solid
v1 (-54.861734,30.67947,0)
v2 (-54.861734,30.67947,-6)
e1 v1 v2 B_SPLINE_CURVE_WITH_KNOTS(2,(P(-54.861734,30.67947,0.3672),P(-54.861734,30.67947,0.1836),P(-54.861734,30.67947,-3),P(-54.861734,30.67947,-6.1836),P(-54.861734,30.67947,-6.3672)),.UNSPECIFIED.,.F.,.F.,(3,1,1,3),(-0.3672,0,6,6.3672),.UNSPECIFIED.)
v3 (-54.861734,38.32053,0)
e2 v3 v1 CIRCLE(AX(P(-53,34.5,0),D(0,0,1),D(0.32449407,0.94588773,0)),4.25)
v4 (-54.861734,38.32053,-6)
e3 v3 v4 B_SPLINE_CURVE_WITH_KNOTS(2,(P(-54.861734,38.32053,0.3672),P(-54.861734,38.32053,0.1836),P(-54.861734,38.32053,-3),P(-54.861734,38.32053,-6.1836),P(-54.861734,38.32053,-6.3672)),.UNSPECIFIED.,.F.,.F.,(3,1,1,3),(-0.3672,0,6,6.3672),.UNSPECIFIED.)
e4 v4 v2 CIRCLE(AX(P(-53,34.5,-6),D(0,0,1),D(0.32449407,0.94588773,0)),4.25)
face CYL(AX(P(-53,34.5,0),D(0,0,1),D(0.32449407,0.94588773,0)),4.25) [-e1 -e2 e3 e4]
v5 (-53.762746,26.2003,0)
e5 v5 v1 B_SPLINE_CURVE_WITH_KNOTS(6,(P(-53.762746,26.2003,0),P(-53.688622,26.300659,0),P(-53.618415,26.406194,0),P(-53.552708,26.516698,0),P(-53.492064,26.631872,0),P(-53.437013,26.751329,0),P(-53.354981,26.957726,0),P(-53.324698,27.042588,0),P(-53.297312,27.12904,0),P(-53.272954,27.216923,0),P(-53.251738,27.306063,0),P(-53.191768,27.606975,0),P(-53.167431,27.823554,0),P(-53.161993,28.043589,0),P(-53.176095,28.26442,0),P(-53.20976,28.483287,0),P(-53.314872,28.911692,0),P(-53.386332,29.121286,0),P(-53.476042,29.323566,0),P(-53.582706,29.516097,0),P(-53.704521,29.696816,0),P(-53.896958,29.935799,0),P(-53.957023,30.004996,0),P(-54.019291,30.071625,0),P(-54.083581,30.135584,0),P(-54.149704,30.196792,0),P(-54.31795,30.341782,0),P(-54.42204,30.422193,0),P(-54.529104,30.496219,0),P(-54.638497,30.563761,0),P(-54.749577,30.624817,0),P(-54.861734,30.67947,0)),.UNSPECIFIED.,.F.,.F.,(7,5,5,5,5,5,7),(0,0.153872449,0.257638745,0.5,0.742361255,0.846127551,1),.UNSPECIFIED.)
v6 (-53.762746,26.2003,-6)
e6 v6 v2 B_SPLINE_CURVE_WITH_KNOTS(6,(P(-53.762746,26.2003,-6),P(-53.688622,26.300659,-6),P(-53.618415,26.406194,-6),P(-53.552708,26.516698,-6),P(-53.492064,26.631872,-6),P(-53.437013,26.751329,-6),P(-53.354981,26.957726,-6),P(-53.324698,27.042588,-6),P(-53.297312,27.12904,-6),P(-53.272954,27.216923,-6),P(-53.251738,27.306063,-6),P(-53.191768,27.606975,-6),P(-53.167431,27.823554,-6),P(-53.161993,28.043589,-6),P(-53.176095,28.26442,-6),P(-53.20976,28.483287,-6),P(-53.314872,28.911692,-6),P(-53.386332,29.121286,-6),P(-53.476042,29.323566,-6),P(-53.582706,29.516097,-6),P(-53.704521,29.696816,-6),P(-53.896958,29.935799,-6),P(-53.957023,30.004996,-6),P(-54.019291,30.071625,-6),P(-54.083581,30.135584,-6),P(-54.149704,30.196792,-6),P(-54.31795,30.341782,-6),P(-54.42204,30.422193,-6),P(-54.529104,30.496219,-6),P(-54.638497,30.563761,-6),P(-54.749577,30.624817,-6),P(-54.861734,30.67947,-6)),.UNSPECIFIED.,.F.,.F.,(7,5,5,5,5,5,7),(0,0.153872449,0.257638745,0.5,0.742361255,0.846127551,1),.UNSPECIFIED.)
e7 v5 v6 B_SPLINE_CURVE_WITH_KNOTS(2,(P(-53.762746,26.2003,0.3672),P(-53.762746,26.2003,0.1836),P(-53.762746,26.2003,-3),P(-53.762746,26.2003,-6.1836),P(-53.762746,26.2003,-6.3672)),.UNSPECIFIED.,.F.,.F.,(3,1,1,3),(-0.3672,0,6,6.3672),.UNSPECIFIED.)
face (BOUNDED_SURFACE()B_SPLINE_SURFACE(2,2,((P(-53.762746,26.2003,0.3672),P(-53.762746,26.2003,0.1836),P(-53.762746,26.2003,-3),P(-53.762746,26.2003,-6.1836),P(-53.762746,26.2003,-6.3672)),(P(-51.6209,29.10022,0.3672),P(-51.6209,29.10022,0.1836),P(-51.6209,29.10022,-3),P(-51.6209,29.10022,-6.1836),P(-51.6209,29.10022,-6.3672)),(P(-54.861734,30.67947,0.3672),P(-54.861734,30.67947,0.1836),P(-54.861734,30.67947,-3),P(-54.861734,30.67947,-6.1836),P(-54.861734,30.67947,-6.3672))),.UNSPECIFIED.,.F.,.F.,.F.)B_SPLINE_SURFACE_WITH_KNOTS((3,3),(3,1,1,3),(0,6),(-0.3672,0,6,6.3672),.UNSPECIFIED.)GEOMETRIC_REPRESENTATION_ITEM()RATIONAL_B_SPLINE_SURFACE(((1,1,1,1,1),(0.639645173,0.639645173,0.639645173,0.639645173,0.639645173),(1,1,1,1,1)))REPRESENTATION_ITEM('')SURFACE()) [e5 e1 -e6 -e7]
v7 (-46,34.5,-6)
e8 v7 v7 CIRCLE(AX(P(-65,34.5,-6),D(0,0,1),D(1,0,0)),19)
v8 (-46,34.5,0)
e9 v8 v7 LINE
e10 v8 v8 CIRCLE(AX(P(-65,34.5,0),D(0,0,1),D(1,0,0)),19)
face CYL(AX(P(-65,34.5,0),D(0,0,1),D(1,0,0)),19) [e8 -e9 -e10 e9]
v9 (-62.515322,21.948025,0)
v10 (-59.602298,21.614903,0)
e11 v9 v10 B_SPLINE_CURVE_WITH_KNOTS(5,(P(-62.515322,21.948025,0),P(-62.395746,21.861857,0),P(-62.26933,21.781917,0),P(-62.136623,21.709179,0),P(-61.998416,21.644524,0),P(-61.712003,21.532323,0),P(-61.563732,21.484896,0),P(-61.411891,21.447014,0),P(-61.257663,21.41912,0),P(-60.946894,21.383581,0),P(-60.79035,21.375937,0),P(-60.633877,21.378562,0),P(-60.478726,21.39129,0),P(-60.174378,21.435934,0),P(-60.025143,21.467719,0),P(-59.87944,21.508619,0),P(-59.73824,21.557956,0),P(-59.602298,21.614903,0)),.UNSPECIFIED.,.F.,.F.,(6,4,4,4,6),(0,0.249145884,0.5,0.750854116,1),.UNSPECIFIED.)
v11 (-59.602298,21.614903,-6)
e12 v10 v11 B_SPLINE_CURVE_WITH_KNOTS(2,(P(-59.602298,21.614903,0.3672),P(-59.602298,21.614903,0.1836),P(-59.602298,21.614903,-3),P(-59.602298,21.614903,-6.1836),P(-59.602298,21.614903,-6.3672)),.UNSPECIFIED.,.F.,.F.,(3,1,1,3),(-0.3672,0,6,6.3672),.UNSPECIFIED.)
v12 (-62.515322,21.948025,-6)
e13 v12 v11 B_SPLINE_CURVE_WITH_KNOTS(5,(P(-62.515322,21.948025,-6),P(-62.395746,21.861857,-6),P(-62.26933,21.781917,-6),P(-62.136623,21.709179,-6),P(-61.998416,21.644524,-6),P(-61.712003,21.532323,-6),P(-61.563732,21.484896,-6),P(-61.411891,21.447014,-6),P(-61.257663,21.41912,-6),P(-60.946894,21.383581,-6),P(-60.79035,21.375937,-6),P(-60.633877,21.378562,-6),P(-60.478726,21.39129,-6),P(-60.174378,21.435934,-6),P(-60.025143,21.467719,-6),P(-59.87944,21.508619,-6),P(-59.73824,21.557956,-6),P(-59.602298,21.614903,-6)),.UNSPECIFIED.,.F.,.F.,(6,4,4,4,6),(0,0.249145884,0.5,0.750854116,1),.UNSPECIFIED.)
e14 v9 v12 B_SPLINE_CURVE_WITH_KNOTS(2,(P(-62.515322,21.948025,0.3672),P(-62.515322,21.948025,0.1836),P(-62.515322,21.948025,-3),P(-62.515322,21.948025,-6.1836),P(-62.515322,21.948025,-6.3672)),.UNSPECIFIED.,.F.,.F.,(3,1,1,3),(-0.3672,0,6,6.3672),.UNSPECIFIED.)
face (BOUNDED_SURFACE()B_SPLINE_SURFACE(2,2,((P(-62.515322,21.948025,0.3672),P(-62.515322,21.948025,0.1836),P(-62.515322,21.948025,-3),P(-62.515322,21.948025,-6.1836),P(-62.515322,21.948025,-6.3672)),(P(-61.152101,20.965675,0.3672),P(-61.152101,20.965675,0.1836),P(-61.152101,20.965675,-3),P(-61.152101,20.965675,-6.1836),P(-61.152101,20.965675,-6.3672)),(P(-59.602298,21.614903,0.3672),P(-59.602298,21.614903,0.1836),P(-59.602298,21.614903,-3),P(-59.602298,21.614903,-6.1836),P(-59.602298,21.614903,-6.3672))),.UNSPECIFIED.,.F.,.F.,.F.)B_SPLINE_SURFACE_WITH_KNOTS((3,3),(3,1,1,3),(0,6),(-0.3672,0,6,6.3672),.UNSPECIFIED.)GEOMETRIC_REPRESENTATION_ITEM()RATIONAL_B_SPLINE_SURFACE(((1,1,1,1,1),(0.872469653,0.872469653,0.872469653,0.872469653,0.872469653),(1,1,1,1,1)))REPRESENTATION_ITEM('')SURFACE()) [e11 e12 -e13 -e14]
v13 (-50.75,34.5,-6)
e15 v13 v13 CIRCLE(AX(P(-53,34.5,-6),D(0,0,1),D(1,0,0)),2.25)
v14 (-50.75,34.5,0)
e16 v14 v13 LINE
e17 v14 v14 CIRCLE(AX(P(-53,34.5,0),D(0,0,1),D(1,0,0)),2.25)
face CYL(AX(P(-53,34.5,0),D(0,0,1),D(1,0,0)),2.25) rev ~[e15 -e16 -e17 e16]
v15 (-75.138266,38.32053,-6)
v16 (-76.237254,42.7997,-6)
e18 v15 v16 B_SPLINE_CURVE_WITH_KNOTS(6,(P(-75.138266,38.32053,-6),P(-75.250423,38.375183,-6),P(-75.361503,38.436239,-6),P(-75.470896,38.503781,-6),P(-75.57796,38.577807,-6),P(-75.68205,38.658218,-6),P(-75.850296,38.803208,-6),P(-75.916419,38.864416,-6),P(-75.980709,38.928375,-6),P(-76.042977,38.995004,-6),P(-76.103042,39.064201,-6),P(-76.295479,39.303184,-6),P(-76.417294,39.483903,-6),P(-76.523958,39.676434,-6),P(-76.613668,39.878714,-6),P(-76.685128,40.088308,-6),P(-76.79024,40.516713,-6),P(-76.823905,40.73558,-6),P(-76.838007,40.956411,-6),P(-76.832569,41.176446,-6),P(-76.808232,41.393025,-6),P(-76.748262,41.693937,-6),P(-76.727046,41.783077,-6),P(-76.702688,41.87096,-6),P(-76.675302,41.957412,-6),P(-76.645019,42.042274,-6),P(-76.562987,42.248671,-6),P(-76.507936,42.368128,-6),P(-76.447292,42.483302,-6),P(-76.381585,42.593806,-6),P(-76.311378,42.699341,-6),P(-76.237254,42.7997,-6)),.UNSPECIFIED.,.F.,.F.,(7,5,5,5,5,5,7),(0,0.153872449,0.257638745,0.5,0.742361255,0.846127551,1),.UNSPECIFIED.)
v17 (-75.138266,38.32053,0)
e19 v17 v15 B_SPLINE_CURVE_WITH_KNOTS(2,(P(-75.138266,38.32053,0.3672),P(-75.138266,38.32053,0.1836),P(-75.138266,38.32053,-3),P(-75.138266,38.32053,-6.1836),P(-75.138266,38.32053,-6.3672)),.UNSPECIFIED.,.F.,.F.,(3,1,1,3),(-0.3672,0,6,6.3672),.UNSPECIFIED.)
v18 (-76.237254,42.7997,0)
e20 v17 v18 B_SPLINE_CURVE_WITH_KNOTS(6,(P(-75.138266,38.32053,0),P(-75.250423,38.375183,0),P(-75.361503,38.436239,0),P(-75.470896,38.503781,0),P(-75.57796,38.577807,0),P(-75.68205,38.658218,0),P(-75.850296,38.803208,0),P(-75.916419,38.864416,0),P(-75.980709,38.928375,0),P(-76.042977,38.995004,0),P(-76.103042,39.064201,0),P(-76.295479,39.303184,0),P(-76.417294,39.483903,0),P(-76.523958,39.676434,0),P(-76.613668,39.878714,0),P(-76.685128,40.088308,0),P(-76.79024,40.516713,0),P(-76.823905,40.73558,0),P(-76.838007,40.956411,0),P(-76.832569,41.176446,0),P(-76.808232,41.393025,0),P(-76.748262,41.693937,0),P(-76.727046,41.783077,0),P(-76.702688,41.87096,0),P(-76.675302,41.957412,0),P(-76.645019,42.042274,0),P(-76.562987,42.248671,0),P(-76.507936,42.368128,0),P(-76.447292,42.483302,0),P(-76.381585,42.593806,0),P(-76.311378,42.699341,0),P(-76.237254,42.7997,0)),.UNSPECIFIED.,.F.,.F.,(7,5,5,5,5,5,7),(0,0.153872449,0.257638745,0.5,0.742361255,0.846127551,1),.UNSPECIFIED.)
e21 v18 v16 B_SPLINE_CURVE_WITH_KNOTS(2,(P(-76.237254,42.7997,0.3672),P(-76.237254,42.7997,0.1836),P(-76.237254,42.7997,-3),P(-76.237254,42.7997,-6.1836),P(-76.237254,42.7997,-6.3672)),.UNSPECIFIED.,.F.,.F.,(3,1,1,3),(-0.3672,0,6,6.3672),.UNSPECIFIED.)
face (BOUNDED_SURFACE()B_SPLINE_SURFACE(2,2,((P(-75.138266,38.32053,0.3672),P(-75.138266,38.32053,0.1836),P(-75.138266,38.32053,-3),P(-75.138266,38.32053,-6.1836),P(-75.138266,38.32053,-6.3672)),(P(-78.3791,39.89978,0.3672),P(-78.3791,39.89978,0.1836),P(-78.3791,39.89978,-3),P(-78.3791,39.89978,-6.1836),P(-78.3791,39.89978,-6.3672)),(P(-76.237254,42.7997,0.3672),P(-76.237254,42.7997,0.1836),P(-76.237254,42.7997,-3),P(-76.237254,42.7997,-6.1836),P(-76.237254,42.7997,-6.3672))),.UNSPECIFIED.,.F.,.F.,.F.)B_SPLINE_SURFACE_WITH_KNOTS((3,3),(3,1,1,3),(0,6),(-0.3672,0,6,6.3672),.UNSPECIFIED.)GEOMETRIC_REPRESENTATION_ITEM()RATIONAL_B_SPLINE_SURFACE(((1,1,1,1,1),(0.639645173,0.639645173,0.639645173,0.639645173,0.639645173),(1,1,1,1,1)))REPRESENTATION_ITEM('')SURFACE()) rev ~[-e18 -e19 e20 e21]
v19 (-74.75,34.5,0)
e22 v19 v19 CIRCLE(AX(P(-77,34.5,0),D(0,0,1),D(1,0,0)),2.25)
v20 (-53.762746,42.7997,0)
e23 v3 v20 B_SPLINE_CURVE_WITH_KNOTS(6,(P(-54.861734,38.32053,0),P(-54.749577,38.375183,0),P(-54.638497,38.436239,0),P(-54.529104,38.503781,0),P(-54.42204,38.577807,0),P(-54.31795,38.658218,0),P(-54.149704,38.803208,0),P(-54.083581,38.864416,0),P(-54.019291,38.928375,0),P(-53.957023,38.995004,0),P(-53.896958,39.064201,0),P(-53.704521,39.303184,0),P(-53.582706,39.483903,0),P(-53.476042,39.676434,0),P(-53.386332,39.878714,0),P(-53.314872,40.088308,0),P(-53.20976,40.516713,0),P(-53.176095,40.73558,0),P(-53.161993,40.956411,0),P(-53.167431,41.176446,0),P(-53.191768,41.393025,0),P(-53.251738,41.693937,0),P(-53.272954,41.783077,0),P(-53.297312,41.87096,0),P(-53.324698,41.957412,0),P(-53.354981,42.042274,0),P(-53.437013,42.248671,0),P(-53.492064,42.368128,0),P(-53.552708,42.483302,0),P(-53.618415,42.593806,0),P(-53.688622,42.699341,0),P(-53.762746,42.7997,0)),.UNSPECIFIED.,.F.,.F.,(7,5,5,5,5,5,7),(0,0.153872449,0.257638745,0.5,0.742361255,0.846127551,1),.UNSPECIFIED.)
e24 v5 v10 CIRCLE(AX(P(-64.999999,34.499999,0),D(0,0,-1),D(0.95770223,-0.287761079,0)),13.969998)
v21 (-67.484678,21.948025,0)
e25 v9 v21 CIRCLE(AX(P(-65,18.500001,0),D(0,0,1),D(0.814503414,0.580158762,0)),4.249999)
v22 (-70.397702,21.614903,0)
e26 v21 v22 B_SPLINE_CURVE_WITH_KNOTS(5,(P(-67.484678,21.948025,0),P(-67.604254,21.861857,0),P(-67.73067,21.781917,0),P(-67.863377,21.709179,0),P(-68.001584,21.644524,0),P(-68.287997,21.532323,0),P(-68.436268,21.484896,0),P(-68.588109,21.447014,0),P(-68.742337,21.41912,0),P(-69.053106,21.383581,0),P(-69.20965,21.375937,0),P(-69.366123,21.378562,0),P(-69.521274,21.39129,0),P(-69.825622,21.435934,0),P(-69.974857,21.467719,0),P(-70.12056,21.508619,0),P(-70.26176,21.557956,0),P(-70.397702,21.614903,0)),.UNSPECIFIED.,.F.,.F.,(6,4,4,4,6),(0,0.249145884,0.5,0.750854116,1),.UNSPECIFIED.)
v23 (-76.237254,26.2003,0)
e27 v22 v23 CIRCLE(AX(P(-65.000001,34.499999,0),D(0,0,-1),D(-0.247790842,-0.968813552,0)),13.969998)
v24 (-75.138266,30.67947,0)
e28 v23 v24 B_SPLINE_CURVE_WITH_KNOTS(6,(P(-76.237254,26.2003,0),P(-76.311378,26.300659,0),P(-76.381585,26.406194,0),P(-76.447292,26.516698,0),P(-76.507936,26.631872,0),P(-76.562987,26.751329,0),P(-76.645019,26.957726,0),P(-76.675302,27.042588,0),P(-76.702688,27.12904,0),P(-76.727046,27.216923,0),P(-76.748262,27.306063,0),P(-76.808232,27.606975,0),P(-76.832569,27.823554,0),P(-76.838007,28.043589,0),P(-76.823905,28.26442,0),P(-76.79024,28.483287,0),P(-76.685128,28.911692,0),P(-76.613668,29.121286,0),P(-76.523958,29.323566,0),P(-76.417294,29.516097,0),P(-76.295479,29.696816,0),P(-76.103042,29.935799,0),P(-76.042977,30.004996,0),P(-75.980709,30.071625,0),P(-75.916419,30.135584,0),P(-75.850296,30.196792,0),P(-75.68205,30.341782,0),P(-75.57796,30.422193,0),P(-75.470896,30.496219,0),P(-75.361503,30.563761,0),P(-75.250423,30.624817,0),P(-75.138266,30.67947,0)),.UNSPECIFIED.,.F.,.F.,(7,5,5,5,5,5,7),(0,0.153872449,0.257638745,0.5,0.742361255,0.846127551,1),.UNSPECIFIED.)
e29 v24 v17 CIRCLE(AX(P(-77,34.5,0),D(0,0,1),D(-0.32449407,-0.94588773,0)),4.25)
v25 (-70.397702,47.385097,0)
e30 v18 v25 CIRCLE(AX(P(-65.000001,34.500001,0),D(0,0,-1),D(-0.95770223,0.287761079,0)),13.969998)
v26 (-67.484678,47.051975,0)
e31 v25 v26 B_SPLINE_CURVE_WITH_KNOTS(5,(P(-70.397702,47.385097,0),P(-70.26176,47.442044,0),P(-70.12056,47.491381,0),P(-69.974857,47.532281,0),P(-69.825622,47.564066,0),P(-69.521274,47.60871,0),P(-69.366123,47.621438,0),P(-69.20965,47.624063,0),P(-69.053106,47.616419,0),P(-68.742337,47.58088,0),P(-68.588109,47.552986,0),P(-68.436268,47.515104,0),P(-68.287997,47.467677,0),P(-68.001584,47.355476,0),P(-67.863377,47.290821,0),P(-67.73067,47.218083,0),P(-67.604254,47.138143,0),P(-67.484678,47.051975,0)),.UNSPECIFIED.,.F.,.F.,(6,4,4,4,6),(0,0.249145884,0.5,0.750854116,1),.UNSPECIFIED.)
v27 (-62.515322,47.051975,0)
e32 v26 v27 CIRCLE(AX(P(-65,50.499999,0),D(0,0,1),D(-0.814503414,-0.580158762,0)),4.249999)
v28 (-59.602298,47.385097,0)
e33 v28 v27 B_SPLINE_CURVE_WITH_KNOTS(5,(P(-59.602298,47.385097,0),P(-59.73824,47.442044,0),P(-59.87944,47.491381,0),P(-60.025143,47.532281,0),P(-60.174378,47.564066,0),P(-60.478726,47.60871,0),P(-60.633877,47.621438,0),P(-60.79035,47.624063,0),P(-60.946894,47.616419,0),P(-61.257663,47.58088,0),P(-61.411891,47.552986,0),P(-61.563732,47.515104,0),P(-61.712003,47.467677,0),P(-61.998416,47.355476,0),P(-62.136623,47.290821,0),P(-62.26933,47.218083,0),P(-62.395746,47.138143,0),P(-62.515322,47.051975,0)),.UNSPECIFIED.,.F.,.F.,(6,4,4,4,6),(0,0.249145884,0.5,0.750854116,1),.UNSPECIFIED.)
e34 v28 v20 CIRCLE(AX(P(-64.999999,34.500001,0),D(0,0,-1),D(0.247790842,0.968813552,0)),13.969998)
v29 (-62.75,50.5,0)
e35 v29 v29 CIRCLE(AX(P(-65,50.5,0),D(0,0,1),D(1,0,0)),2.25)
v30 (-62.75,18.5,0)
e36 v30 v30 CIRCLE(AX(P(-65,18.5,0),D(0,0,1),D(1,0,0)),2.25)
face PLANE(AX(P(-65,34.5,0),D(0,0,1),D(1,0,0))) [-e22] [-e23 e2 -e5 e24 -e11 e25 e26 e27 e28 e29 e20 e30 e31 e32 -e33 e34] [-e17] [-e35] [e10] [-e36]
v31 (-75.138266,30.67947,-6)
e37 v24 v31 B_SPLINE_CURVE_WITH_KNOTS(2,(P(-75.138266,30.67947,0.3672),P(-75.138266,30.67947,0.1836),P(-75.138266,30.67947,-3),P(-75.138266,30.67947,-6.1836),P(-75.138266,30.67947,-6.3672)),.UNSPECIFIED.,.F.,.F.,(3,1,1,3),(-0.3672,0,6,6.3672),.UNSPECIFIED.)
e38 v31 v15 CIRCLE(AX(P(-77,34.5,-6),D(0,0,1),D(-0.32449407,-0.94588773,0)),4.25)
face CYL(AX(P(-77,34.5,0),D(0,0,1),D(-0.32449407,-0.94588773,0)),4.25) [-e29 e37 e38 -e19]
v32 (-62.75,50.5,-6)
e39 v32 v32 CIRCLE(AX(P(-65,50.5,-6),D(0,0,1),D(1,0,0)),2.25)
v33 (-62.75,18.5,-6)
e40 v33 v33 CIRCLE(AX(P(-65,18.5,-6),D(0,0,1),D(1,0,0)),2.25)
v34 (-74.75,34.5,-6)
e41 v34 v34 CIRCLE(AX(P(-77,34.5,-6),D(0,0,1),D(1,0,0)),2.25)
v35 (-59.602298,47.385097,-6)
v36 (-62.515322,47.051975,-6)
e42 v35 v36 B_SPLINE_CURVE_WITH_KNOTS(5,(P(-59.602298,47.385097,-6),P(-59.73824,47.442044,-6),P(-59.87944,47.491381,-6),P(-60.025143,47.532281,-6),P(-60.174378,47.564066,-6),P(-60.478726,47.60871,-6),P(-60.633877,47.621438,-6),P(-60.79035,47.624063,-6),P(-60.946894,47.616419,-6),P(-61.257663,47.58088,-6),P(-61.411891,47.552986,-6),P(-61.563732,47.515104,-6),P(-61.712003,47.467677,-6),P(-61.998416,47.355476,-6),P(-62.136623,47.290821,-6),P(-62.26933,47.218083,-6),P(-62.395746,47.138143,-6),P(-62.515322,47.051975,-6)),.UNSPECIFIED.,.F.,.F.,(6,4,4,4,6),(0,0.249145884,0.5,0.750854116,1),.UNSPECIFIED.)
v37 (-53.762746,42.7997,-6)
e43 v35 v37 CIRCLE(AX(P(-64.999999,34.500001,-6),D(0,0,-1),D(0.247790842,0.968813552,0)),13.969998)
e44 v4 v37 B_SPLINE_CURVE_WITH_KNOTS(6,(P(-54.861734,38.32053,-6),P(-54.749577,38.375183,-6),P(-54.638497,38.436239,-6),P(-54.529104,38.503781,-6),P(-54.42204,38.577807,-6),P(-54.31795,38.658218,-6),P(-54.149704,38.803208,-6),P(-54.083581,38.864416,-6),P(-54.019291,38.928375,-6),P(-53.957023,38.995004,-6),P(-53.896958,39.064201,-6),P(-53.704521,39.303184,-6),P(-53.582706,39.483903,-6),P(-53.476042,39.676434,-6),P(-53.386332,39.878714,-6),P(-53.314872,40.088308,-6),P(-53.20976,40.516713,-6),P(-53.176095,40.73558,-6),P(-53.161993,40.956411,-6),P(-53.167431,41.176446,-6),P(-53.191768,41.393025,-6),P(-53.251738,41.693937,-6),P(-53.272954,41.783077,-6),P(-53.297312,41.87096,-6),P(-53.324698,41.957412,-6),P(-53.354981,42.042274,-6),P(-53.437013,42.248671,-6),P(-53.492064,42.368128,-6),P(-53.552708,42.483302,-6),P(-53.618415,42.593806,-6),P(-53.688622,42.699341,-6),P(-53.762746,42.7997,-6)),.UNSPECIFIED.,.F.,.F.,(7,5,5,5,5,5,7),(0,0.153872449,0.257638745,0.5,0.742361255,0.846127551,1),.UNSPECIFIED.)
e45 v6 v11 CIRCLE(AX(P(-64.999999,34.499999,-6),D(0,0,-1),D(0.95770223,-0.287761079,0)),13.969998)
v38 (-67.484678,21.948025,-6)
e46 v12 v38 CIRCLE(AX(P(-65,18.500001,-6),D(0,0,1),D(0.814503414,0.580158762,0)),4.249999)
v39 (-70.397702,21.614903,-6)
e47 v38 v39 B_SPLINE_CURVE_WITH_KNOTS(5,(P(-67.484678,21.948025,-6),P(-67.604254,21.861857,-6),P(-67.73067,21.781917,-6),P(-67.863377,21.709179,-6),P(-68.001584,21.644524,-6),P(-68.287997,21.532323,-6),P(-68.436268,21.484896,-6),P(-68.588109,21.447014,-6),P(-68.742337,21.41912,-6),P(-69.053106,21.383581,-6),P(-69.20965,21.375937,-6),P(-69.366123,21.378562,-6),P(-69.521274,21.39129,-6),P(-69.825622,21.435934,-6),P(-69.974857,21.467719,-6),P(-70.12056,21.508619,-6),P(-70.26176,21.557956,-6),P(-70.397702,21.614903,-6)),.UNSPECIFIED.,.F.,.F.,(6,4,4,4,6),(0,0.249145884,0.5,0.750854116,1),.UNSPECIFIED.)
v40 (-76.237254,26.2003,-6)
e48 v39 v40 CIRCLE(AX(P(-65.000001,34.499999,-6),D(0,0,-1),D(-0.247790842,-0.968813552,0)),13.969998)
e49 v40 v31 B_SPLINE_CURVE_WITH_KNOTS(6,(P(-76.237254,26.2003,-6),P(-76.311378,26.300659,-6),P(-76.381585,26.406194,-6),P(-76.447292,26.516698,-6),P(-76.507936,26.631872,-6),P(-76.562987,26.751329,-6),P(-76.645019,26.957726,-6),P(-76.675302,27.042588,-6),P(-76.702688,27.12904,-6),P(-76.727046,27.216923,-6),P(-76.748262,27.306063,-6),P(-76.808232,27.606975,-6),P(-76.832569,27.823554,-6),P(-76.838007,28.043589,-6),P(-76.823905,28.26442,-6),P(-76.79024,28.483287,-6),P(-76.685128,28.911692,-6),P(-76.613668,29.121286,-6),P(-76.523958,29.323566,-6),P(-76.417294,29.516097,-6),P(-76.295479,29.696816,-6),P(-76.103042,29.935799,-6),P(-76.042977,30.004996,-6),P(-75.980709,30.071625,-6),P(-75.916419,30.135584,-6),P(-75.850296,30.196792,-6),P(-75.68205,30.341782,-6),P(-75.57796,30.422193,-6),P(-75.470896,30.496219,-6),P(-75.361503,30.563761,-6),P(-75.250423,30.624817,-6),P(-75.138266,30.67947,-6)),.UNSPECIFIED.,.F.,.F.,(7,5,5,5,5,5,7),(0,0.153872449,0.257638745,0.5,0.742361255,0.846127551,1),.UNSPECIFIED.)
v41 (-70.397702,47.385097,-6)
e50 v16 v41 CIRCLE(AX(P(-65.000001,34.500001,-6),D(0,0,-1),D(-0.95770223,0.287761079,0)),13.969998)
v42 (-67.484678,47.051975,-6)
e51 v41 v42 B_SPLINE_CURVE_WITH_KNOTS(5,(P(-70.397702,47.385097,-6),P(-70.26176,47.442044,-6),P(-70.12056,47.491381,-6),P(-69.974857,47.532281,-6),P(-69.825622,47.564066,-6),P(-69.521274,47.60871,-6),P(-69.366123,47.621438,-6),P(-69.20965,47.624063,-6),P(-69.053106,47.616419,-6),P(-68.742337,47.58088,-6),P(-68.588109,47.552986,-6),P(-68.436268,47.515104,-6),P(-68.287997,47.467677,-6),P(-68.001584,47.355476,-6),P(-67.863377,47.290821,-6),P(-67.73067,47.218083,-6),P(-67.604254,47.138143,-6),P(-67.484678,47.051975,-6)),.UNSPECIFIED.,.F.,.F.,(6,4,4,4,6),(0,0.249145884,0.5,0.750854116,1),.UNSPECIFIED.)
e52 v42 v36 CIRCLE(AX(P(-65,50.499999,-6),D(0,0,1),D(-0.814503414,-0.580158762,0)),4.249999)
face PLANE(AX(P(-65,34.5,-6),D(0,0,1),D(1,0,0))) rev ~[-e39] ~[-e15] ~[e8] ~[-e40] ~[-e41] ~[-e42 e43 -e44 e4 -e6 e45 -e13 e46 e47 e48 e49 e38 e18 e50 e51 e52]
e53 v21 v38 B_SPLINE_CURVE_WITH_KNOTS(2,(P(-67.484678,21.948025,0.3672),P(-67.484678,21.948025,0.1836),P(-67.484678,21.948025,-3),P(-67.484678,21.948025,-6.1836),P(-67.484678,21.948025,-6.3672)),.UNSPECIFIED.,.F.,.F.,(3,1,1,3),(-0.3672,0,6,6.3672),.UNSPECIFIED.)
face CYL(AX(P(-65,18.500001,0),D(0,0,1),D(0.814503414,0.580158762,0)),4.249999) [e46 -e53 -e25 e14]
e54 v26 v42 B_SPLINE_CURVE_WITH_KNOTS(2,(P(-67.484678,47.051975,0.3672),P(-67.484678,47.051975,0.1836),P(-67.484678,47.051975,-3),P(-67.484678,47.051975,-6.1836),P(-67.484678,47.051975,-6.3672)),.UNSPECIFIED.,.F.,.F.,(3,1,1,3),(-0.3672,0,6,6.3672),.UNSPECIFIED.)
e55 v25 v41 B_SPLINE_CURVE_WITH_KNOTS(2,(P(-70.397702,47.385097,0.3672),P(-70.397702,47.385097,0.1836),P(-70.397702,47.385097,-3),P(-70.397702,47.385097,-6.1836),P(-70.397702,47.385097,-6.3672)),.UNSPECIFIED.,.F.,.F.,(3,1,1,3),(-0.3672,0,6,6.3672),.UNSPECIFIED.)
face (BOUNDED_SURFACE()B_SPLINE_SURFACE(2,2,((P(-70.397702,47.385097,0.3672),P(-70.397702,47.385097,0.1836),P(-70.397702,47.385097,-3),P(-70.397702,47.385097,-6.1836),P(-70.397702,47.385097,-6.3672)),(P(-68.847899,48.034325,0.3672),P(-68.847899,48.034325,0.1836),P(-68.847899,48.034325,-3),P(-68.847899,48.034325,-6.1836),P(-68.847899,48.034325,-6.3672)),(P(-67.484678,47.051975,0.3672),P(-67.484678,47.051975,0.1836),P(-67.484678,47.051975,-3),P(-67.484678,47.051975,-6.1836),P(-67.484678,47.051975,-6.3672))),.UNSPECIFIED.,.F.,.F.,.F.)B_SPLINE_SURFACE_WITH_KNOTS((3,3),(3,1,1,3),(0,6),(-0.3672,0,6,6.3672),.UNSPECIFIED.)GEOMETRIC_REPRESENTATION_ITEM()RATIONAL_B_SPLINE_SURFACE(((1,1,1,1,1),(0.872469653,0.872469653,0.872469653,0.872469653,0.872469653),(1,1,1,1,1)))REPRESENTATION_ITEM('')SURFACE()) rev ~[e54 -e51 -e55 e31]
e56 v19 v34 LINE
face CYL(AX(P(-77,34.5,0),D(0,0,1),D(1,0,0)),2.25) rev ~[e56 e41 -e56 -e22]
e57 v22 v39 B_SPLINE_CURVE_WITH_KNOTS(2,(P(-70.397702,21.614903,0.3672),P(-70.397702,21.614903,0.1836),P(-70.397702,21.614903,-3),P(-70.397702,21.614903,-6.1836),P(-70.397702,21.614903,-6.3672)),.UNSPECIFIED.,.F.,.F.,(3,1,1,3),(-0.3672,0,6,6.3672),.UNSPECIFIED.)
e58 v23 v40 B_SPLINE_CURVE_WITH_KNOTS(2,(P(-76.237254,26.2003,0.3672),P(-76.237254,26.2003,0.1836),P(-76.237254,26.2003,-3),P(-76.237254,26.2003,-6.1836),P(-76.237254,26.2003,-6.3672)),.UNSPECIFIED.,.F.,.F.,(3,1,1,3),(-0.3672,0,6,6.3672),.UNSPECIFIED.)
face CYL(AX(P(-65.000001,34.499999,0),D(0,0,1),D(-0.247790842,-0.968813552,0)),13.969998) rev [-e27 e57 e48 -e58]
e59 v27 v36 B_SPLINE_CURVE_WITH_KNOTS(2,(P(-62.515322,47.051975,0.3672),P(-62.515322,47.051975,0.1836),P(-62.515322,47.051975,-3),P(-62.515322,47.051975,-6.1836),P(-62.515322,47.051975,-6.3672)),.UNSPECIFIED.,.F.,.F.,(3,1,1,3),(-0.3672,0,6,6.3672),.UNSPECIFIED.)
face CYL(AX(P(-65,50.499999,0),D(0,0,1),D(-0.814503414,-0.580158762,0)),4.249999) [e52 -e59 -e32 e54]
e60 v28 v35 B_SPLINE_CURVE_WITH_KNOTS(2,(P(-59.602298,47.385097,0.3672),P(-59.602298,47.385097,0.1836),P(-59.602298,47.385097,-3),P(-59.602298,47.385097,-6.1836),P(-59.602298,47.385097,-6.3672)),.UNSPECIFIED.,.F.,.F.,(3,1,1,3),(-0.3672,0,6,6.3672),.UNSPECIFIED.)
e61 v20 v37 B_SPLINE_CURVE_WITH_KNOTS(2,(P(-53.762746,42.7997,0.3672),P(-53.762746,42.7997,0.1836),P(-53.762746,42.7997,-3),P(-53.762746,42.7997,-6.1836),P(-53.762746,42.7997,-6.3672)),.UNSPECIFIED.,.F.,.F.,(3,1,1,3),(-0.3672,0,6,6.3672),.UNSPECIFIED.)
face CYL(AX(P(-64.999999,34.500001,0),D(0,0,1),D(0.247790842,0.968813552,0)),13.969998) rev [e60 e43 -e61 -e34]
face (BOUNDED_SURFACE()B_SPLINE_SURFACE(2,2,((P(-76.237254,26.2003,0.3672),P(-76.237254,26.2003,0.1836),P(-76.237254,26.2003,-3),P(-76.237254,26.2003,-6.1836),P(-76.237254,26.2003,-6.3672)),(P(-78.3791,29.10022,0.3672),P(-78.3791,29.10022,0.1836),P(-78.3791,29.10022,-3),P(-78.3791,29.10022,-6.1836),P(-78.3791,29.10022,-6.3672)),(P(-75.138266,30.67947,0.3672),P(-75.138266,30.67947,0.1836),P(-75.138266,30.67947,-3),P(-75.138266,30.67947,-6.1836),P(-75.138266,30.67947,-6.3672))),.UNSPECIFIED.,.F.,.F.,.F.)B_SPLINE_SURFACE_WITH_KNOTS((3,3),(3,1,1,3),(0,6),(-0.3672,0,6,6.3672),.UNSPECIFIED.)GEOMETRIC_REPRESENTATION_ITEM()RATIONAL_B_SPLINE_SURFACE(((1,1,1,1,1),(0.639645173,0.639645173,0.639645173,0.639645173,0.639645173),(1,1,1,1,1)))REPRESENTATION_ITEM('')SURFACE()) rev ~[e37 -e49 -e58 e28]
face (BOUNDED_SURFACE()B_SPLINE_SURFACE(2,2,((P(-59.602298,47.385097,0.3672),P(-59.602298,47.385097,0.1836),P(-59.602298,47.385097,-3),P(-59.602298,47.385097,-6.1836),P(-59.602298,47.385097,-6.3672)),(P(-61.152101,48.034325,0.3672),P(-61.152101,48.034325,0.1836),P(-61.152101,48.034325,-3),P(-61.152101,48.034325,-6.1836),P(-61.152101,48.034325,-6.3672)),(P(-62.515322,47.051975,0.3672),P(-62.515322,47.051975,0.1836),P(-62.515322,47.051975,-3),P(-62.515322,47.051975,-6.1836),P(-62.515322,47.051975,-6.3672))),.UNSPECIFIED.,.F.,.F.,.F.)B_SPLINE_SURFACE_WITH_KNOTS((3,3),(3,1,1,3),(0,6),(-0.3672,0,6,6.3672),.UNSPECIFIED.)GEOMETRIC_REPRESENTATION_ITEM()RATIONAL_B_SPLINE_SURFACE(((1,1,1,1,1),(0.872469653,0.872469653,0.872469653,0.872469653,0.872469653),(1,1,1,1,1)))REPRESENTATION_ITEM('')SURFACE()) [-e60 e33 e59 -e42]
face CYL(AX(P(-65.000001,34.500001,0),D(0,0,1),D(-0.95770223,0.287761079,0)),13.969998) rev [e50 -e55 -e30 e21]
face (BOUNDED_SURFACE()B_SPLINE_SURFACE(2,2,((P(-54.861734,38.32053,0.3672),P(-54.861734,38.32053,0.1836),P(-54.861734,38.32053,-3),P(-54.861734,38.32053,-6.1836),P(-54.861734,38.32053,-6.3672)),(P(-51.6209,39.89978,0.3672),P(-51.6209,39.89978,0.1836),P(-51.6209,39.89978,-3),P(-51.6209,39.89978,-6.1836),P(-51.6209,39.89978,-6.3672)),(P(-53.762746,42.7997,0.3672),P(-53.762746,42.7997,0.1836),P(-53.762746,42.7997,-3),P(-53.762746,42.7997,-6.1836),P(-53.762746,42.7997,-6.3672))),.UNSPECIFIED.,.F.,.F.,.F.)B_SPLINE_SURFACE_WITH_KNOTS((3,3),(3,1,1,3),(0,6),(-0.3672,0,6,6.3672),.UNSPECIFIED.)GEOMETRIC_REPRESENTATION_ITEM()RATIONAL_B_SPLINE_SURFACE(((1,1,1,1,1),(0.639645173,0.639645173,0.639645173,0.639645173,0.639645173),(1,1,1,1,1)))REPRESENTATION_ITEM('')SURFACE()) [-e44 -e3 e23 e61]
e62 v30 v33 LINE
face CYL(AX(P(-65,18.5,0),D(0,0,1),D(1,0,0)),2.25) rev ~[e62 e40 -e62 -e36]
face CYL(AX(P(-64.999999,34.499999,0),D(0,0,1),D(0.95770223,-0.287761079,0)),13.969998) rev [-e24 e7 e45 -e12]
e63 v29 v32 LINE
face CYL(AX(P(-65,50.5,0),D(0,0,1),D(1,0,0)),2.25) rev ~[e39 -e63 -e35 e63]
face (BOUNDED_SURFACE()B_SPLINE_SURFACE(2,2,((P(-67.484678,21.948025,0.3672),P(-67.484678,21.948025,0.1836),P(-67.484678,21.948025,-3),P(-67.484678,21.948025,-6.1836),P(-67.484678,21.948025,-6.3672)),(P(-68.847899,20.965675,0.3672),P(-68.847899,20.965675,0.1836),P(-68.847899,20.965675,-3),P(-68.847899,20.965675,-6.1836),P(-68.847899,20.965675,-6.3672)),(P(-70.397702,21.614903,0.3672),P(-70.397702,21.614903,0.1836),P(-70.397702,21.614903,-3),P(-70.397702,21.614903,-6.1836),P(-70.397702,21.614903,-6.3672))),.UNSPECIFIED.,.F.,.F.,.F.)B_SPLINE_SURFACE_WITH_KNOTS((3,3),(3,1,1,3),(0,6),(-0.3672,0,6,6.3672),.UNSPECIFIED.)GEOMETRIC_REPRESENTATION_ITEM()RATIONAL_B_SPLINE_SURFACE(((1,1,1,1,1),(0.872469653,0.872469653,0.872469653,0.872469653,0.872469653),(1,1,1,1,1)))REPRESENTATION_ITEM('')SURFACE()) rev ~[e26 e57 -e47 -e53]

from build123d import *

# Parameters (mm, degrees)
F0_R     = 19
F0_R_2   = 2.25
F1_DEPTH = 6
F2_R     = 3


with BuildPart() as f1:
    # F0 (on Top) → F1 (new body)
    with BuildSketch(Plane.XY):
        with Locations((-65, 34.5)):
            Circle(F0_R)
        with Locations((-65, 18.5)):
            Circle(F0_R_2, mode=Mode.SUBTRACT)
        with Locations((-77, 34.5)):
            Circle(F0_R_2, mode=Mode.SUBTRACT)
        with BuildLine():
            ThreePointArc((-68.461639, 20.965675), (-74.671252, 24.418939), (-78.3791, 30.479977))
            ThreePointArc((-78.3791, 30.479977), (-72.75, 34.5), (-78.3791, 38.520023))
            ThreePointArc((-78.3791, 38.520023), (-74.671252, 44.581061), (-68.461639, 48.034325))
            ThreePointArc((-68.461639, 48.034325), (-65, 46.25), (-61.538361, 48.034325))
            ThreePointArc((-61.538361, 48.034325), (-55.328748, 44.581061), (-51.6209, 38.520023))
            ThreePointArc((-51.6209, 38.520023), (-57.25, 34.5), (-51.6209, 30.479977))
            ThreePointArc((-51.6209, 30.479977), (-55.328748, 24.418939), (-61.538361, 20.965675))
            ThreePointArc((-61.538361, 20.965675), (-65, 22.75), (-68.461639, 20.965675))
        make_face(mode=Mode.SUBTRACT)
        with Locations((-53, 34.5)):
            Circle(F0_R_2, mode=Mode.SUBTRACT)
        with Locations((-65, 50.5)):
            Circle(F0_R_2, mode=Mode.SUBTRACT)
    extrude(amount=-F1_DEPTH)

    # F2
    f2_edges = [f1.edges().sort_by_distance(p)[0] for p in [
        (-61.538361, 20.965675, -3),
        (-68.461639, 20.965675, -3),
        (-78.3791, 30.479977, -3),
        (-78.3791, 38.520023, -3),
        (-51.6209, 30.479977, -3),
        (-68.461639, 48.034325, -3),
        (-61.538361, 48.034325, -3),
        (-51.6209, 38.520023, -3),
    ]]
    fillet(f2_edges, radius=F2_R)


solid = f1.part
